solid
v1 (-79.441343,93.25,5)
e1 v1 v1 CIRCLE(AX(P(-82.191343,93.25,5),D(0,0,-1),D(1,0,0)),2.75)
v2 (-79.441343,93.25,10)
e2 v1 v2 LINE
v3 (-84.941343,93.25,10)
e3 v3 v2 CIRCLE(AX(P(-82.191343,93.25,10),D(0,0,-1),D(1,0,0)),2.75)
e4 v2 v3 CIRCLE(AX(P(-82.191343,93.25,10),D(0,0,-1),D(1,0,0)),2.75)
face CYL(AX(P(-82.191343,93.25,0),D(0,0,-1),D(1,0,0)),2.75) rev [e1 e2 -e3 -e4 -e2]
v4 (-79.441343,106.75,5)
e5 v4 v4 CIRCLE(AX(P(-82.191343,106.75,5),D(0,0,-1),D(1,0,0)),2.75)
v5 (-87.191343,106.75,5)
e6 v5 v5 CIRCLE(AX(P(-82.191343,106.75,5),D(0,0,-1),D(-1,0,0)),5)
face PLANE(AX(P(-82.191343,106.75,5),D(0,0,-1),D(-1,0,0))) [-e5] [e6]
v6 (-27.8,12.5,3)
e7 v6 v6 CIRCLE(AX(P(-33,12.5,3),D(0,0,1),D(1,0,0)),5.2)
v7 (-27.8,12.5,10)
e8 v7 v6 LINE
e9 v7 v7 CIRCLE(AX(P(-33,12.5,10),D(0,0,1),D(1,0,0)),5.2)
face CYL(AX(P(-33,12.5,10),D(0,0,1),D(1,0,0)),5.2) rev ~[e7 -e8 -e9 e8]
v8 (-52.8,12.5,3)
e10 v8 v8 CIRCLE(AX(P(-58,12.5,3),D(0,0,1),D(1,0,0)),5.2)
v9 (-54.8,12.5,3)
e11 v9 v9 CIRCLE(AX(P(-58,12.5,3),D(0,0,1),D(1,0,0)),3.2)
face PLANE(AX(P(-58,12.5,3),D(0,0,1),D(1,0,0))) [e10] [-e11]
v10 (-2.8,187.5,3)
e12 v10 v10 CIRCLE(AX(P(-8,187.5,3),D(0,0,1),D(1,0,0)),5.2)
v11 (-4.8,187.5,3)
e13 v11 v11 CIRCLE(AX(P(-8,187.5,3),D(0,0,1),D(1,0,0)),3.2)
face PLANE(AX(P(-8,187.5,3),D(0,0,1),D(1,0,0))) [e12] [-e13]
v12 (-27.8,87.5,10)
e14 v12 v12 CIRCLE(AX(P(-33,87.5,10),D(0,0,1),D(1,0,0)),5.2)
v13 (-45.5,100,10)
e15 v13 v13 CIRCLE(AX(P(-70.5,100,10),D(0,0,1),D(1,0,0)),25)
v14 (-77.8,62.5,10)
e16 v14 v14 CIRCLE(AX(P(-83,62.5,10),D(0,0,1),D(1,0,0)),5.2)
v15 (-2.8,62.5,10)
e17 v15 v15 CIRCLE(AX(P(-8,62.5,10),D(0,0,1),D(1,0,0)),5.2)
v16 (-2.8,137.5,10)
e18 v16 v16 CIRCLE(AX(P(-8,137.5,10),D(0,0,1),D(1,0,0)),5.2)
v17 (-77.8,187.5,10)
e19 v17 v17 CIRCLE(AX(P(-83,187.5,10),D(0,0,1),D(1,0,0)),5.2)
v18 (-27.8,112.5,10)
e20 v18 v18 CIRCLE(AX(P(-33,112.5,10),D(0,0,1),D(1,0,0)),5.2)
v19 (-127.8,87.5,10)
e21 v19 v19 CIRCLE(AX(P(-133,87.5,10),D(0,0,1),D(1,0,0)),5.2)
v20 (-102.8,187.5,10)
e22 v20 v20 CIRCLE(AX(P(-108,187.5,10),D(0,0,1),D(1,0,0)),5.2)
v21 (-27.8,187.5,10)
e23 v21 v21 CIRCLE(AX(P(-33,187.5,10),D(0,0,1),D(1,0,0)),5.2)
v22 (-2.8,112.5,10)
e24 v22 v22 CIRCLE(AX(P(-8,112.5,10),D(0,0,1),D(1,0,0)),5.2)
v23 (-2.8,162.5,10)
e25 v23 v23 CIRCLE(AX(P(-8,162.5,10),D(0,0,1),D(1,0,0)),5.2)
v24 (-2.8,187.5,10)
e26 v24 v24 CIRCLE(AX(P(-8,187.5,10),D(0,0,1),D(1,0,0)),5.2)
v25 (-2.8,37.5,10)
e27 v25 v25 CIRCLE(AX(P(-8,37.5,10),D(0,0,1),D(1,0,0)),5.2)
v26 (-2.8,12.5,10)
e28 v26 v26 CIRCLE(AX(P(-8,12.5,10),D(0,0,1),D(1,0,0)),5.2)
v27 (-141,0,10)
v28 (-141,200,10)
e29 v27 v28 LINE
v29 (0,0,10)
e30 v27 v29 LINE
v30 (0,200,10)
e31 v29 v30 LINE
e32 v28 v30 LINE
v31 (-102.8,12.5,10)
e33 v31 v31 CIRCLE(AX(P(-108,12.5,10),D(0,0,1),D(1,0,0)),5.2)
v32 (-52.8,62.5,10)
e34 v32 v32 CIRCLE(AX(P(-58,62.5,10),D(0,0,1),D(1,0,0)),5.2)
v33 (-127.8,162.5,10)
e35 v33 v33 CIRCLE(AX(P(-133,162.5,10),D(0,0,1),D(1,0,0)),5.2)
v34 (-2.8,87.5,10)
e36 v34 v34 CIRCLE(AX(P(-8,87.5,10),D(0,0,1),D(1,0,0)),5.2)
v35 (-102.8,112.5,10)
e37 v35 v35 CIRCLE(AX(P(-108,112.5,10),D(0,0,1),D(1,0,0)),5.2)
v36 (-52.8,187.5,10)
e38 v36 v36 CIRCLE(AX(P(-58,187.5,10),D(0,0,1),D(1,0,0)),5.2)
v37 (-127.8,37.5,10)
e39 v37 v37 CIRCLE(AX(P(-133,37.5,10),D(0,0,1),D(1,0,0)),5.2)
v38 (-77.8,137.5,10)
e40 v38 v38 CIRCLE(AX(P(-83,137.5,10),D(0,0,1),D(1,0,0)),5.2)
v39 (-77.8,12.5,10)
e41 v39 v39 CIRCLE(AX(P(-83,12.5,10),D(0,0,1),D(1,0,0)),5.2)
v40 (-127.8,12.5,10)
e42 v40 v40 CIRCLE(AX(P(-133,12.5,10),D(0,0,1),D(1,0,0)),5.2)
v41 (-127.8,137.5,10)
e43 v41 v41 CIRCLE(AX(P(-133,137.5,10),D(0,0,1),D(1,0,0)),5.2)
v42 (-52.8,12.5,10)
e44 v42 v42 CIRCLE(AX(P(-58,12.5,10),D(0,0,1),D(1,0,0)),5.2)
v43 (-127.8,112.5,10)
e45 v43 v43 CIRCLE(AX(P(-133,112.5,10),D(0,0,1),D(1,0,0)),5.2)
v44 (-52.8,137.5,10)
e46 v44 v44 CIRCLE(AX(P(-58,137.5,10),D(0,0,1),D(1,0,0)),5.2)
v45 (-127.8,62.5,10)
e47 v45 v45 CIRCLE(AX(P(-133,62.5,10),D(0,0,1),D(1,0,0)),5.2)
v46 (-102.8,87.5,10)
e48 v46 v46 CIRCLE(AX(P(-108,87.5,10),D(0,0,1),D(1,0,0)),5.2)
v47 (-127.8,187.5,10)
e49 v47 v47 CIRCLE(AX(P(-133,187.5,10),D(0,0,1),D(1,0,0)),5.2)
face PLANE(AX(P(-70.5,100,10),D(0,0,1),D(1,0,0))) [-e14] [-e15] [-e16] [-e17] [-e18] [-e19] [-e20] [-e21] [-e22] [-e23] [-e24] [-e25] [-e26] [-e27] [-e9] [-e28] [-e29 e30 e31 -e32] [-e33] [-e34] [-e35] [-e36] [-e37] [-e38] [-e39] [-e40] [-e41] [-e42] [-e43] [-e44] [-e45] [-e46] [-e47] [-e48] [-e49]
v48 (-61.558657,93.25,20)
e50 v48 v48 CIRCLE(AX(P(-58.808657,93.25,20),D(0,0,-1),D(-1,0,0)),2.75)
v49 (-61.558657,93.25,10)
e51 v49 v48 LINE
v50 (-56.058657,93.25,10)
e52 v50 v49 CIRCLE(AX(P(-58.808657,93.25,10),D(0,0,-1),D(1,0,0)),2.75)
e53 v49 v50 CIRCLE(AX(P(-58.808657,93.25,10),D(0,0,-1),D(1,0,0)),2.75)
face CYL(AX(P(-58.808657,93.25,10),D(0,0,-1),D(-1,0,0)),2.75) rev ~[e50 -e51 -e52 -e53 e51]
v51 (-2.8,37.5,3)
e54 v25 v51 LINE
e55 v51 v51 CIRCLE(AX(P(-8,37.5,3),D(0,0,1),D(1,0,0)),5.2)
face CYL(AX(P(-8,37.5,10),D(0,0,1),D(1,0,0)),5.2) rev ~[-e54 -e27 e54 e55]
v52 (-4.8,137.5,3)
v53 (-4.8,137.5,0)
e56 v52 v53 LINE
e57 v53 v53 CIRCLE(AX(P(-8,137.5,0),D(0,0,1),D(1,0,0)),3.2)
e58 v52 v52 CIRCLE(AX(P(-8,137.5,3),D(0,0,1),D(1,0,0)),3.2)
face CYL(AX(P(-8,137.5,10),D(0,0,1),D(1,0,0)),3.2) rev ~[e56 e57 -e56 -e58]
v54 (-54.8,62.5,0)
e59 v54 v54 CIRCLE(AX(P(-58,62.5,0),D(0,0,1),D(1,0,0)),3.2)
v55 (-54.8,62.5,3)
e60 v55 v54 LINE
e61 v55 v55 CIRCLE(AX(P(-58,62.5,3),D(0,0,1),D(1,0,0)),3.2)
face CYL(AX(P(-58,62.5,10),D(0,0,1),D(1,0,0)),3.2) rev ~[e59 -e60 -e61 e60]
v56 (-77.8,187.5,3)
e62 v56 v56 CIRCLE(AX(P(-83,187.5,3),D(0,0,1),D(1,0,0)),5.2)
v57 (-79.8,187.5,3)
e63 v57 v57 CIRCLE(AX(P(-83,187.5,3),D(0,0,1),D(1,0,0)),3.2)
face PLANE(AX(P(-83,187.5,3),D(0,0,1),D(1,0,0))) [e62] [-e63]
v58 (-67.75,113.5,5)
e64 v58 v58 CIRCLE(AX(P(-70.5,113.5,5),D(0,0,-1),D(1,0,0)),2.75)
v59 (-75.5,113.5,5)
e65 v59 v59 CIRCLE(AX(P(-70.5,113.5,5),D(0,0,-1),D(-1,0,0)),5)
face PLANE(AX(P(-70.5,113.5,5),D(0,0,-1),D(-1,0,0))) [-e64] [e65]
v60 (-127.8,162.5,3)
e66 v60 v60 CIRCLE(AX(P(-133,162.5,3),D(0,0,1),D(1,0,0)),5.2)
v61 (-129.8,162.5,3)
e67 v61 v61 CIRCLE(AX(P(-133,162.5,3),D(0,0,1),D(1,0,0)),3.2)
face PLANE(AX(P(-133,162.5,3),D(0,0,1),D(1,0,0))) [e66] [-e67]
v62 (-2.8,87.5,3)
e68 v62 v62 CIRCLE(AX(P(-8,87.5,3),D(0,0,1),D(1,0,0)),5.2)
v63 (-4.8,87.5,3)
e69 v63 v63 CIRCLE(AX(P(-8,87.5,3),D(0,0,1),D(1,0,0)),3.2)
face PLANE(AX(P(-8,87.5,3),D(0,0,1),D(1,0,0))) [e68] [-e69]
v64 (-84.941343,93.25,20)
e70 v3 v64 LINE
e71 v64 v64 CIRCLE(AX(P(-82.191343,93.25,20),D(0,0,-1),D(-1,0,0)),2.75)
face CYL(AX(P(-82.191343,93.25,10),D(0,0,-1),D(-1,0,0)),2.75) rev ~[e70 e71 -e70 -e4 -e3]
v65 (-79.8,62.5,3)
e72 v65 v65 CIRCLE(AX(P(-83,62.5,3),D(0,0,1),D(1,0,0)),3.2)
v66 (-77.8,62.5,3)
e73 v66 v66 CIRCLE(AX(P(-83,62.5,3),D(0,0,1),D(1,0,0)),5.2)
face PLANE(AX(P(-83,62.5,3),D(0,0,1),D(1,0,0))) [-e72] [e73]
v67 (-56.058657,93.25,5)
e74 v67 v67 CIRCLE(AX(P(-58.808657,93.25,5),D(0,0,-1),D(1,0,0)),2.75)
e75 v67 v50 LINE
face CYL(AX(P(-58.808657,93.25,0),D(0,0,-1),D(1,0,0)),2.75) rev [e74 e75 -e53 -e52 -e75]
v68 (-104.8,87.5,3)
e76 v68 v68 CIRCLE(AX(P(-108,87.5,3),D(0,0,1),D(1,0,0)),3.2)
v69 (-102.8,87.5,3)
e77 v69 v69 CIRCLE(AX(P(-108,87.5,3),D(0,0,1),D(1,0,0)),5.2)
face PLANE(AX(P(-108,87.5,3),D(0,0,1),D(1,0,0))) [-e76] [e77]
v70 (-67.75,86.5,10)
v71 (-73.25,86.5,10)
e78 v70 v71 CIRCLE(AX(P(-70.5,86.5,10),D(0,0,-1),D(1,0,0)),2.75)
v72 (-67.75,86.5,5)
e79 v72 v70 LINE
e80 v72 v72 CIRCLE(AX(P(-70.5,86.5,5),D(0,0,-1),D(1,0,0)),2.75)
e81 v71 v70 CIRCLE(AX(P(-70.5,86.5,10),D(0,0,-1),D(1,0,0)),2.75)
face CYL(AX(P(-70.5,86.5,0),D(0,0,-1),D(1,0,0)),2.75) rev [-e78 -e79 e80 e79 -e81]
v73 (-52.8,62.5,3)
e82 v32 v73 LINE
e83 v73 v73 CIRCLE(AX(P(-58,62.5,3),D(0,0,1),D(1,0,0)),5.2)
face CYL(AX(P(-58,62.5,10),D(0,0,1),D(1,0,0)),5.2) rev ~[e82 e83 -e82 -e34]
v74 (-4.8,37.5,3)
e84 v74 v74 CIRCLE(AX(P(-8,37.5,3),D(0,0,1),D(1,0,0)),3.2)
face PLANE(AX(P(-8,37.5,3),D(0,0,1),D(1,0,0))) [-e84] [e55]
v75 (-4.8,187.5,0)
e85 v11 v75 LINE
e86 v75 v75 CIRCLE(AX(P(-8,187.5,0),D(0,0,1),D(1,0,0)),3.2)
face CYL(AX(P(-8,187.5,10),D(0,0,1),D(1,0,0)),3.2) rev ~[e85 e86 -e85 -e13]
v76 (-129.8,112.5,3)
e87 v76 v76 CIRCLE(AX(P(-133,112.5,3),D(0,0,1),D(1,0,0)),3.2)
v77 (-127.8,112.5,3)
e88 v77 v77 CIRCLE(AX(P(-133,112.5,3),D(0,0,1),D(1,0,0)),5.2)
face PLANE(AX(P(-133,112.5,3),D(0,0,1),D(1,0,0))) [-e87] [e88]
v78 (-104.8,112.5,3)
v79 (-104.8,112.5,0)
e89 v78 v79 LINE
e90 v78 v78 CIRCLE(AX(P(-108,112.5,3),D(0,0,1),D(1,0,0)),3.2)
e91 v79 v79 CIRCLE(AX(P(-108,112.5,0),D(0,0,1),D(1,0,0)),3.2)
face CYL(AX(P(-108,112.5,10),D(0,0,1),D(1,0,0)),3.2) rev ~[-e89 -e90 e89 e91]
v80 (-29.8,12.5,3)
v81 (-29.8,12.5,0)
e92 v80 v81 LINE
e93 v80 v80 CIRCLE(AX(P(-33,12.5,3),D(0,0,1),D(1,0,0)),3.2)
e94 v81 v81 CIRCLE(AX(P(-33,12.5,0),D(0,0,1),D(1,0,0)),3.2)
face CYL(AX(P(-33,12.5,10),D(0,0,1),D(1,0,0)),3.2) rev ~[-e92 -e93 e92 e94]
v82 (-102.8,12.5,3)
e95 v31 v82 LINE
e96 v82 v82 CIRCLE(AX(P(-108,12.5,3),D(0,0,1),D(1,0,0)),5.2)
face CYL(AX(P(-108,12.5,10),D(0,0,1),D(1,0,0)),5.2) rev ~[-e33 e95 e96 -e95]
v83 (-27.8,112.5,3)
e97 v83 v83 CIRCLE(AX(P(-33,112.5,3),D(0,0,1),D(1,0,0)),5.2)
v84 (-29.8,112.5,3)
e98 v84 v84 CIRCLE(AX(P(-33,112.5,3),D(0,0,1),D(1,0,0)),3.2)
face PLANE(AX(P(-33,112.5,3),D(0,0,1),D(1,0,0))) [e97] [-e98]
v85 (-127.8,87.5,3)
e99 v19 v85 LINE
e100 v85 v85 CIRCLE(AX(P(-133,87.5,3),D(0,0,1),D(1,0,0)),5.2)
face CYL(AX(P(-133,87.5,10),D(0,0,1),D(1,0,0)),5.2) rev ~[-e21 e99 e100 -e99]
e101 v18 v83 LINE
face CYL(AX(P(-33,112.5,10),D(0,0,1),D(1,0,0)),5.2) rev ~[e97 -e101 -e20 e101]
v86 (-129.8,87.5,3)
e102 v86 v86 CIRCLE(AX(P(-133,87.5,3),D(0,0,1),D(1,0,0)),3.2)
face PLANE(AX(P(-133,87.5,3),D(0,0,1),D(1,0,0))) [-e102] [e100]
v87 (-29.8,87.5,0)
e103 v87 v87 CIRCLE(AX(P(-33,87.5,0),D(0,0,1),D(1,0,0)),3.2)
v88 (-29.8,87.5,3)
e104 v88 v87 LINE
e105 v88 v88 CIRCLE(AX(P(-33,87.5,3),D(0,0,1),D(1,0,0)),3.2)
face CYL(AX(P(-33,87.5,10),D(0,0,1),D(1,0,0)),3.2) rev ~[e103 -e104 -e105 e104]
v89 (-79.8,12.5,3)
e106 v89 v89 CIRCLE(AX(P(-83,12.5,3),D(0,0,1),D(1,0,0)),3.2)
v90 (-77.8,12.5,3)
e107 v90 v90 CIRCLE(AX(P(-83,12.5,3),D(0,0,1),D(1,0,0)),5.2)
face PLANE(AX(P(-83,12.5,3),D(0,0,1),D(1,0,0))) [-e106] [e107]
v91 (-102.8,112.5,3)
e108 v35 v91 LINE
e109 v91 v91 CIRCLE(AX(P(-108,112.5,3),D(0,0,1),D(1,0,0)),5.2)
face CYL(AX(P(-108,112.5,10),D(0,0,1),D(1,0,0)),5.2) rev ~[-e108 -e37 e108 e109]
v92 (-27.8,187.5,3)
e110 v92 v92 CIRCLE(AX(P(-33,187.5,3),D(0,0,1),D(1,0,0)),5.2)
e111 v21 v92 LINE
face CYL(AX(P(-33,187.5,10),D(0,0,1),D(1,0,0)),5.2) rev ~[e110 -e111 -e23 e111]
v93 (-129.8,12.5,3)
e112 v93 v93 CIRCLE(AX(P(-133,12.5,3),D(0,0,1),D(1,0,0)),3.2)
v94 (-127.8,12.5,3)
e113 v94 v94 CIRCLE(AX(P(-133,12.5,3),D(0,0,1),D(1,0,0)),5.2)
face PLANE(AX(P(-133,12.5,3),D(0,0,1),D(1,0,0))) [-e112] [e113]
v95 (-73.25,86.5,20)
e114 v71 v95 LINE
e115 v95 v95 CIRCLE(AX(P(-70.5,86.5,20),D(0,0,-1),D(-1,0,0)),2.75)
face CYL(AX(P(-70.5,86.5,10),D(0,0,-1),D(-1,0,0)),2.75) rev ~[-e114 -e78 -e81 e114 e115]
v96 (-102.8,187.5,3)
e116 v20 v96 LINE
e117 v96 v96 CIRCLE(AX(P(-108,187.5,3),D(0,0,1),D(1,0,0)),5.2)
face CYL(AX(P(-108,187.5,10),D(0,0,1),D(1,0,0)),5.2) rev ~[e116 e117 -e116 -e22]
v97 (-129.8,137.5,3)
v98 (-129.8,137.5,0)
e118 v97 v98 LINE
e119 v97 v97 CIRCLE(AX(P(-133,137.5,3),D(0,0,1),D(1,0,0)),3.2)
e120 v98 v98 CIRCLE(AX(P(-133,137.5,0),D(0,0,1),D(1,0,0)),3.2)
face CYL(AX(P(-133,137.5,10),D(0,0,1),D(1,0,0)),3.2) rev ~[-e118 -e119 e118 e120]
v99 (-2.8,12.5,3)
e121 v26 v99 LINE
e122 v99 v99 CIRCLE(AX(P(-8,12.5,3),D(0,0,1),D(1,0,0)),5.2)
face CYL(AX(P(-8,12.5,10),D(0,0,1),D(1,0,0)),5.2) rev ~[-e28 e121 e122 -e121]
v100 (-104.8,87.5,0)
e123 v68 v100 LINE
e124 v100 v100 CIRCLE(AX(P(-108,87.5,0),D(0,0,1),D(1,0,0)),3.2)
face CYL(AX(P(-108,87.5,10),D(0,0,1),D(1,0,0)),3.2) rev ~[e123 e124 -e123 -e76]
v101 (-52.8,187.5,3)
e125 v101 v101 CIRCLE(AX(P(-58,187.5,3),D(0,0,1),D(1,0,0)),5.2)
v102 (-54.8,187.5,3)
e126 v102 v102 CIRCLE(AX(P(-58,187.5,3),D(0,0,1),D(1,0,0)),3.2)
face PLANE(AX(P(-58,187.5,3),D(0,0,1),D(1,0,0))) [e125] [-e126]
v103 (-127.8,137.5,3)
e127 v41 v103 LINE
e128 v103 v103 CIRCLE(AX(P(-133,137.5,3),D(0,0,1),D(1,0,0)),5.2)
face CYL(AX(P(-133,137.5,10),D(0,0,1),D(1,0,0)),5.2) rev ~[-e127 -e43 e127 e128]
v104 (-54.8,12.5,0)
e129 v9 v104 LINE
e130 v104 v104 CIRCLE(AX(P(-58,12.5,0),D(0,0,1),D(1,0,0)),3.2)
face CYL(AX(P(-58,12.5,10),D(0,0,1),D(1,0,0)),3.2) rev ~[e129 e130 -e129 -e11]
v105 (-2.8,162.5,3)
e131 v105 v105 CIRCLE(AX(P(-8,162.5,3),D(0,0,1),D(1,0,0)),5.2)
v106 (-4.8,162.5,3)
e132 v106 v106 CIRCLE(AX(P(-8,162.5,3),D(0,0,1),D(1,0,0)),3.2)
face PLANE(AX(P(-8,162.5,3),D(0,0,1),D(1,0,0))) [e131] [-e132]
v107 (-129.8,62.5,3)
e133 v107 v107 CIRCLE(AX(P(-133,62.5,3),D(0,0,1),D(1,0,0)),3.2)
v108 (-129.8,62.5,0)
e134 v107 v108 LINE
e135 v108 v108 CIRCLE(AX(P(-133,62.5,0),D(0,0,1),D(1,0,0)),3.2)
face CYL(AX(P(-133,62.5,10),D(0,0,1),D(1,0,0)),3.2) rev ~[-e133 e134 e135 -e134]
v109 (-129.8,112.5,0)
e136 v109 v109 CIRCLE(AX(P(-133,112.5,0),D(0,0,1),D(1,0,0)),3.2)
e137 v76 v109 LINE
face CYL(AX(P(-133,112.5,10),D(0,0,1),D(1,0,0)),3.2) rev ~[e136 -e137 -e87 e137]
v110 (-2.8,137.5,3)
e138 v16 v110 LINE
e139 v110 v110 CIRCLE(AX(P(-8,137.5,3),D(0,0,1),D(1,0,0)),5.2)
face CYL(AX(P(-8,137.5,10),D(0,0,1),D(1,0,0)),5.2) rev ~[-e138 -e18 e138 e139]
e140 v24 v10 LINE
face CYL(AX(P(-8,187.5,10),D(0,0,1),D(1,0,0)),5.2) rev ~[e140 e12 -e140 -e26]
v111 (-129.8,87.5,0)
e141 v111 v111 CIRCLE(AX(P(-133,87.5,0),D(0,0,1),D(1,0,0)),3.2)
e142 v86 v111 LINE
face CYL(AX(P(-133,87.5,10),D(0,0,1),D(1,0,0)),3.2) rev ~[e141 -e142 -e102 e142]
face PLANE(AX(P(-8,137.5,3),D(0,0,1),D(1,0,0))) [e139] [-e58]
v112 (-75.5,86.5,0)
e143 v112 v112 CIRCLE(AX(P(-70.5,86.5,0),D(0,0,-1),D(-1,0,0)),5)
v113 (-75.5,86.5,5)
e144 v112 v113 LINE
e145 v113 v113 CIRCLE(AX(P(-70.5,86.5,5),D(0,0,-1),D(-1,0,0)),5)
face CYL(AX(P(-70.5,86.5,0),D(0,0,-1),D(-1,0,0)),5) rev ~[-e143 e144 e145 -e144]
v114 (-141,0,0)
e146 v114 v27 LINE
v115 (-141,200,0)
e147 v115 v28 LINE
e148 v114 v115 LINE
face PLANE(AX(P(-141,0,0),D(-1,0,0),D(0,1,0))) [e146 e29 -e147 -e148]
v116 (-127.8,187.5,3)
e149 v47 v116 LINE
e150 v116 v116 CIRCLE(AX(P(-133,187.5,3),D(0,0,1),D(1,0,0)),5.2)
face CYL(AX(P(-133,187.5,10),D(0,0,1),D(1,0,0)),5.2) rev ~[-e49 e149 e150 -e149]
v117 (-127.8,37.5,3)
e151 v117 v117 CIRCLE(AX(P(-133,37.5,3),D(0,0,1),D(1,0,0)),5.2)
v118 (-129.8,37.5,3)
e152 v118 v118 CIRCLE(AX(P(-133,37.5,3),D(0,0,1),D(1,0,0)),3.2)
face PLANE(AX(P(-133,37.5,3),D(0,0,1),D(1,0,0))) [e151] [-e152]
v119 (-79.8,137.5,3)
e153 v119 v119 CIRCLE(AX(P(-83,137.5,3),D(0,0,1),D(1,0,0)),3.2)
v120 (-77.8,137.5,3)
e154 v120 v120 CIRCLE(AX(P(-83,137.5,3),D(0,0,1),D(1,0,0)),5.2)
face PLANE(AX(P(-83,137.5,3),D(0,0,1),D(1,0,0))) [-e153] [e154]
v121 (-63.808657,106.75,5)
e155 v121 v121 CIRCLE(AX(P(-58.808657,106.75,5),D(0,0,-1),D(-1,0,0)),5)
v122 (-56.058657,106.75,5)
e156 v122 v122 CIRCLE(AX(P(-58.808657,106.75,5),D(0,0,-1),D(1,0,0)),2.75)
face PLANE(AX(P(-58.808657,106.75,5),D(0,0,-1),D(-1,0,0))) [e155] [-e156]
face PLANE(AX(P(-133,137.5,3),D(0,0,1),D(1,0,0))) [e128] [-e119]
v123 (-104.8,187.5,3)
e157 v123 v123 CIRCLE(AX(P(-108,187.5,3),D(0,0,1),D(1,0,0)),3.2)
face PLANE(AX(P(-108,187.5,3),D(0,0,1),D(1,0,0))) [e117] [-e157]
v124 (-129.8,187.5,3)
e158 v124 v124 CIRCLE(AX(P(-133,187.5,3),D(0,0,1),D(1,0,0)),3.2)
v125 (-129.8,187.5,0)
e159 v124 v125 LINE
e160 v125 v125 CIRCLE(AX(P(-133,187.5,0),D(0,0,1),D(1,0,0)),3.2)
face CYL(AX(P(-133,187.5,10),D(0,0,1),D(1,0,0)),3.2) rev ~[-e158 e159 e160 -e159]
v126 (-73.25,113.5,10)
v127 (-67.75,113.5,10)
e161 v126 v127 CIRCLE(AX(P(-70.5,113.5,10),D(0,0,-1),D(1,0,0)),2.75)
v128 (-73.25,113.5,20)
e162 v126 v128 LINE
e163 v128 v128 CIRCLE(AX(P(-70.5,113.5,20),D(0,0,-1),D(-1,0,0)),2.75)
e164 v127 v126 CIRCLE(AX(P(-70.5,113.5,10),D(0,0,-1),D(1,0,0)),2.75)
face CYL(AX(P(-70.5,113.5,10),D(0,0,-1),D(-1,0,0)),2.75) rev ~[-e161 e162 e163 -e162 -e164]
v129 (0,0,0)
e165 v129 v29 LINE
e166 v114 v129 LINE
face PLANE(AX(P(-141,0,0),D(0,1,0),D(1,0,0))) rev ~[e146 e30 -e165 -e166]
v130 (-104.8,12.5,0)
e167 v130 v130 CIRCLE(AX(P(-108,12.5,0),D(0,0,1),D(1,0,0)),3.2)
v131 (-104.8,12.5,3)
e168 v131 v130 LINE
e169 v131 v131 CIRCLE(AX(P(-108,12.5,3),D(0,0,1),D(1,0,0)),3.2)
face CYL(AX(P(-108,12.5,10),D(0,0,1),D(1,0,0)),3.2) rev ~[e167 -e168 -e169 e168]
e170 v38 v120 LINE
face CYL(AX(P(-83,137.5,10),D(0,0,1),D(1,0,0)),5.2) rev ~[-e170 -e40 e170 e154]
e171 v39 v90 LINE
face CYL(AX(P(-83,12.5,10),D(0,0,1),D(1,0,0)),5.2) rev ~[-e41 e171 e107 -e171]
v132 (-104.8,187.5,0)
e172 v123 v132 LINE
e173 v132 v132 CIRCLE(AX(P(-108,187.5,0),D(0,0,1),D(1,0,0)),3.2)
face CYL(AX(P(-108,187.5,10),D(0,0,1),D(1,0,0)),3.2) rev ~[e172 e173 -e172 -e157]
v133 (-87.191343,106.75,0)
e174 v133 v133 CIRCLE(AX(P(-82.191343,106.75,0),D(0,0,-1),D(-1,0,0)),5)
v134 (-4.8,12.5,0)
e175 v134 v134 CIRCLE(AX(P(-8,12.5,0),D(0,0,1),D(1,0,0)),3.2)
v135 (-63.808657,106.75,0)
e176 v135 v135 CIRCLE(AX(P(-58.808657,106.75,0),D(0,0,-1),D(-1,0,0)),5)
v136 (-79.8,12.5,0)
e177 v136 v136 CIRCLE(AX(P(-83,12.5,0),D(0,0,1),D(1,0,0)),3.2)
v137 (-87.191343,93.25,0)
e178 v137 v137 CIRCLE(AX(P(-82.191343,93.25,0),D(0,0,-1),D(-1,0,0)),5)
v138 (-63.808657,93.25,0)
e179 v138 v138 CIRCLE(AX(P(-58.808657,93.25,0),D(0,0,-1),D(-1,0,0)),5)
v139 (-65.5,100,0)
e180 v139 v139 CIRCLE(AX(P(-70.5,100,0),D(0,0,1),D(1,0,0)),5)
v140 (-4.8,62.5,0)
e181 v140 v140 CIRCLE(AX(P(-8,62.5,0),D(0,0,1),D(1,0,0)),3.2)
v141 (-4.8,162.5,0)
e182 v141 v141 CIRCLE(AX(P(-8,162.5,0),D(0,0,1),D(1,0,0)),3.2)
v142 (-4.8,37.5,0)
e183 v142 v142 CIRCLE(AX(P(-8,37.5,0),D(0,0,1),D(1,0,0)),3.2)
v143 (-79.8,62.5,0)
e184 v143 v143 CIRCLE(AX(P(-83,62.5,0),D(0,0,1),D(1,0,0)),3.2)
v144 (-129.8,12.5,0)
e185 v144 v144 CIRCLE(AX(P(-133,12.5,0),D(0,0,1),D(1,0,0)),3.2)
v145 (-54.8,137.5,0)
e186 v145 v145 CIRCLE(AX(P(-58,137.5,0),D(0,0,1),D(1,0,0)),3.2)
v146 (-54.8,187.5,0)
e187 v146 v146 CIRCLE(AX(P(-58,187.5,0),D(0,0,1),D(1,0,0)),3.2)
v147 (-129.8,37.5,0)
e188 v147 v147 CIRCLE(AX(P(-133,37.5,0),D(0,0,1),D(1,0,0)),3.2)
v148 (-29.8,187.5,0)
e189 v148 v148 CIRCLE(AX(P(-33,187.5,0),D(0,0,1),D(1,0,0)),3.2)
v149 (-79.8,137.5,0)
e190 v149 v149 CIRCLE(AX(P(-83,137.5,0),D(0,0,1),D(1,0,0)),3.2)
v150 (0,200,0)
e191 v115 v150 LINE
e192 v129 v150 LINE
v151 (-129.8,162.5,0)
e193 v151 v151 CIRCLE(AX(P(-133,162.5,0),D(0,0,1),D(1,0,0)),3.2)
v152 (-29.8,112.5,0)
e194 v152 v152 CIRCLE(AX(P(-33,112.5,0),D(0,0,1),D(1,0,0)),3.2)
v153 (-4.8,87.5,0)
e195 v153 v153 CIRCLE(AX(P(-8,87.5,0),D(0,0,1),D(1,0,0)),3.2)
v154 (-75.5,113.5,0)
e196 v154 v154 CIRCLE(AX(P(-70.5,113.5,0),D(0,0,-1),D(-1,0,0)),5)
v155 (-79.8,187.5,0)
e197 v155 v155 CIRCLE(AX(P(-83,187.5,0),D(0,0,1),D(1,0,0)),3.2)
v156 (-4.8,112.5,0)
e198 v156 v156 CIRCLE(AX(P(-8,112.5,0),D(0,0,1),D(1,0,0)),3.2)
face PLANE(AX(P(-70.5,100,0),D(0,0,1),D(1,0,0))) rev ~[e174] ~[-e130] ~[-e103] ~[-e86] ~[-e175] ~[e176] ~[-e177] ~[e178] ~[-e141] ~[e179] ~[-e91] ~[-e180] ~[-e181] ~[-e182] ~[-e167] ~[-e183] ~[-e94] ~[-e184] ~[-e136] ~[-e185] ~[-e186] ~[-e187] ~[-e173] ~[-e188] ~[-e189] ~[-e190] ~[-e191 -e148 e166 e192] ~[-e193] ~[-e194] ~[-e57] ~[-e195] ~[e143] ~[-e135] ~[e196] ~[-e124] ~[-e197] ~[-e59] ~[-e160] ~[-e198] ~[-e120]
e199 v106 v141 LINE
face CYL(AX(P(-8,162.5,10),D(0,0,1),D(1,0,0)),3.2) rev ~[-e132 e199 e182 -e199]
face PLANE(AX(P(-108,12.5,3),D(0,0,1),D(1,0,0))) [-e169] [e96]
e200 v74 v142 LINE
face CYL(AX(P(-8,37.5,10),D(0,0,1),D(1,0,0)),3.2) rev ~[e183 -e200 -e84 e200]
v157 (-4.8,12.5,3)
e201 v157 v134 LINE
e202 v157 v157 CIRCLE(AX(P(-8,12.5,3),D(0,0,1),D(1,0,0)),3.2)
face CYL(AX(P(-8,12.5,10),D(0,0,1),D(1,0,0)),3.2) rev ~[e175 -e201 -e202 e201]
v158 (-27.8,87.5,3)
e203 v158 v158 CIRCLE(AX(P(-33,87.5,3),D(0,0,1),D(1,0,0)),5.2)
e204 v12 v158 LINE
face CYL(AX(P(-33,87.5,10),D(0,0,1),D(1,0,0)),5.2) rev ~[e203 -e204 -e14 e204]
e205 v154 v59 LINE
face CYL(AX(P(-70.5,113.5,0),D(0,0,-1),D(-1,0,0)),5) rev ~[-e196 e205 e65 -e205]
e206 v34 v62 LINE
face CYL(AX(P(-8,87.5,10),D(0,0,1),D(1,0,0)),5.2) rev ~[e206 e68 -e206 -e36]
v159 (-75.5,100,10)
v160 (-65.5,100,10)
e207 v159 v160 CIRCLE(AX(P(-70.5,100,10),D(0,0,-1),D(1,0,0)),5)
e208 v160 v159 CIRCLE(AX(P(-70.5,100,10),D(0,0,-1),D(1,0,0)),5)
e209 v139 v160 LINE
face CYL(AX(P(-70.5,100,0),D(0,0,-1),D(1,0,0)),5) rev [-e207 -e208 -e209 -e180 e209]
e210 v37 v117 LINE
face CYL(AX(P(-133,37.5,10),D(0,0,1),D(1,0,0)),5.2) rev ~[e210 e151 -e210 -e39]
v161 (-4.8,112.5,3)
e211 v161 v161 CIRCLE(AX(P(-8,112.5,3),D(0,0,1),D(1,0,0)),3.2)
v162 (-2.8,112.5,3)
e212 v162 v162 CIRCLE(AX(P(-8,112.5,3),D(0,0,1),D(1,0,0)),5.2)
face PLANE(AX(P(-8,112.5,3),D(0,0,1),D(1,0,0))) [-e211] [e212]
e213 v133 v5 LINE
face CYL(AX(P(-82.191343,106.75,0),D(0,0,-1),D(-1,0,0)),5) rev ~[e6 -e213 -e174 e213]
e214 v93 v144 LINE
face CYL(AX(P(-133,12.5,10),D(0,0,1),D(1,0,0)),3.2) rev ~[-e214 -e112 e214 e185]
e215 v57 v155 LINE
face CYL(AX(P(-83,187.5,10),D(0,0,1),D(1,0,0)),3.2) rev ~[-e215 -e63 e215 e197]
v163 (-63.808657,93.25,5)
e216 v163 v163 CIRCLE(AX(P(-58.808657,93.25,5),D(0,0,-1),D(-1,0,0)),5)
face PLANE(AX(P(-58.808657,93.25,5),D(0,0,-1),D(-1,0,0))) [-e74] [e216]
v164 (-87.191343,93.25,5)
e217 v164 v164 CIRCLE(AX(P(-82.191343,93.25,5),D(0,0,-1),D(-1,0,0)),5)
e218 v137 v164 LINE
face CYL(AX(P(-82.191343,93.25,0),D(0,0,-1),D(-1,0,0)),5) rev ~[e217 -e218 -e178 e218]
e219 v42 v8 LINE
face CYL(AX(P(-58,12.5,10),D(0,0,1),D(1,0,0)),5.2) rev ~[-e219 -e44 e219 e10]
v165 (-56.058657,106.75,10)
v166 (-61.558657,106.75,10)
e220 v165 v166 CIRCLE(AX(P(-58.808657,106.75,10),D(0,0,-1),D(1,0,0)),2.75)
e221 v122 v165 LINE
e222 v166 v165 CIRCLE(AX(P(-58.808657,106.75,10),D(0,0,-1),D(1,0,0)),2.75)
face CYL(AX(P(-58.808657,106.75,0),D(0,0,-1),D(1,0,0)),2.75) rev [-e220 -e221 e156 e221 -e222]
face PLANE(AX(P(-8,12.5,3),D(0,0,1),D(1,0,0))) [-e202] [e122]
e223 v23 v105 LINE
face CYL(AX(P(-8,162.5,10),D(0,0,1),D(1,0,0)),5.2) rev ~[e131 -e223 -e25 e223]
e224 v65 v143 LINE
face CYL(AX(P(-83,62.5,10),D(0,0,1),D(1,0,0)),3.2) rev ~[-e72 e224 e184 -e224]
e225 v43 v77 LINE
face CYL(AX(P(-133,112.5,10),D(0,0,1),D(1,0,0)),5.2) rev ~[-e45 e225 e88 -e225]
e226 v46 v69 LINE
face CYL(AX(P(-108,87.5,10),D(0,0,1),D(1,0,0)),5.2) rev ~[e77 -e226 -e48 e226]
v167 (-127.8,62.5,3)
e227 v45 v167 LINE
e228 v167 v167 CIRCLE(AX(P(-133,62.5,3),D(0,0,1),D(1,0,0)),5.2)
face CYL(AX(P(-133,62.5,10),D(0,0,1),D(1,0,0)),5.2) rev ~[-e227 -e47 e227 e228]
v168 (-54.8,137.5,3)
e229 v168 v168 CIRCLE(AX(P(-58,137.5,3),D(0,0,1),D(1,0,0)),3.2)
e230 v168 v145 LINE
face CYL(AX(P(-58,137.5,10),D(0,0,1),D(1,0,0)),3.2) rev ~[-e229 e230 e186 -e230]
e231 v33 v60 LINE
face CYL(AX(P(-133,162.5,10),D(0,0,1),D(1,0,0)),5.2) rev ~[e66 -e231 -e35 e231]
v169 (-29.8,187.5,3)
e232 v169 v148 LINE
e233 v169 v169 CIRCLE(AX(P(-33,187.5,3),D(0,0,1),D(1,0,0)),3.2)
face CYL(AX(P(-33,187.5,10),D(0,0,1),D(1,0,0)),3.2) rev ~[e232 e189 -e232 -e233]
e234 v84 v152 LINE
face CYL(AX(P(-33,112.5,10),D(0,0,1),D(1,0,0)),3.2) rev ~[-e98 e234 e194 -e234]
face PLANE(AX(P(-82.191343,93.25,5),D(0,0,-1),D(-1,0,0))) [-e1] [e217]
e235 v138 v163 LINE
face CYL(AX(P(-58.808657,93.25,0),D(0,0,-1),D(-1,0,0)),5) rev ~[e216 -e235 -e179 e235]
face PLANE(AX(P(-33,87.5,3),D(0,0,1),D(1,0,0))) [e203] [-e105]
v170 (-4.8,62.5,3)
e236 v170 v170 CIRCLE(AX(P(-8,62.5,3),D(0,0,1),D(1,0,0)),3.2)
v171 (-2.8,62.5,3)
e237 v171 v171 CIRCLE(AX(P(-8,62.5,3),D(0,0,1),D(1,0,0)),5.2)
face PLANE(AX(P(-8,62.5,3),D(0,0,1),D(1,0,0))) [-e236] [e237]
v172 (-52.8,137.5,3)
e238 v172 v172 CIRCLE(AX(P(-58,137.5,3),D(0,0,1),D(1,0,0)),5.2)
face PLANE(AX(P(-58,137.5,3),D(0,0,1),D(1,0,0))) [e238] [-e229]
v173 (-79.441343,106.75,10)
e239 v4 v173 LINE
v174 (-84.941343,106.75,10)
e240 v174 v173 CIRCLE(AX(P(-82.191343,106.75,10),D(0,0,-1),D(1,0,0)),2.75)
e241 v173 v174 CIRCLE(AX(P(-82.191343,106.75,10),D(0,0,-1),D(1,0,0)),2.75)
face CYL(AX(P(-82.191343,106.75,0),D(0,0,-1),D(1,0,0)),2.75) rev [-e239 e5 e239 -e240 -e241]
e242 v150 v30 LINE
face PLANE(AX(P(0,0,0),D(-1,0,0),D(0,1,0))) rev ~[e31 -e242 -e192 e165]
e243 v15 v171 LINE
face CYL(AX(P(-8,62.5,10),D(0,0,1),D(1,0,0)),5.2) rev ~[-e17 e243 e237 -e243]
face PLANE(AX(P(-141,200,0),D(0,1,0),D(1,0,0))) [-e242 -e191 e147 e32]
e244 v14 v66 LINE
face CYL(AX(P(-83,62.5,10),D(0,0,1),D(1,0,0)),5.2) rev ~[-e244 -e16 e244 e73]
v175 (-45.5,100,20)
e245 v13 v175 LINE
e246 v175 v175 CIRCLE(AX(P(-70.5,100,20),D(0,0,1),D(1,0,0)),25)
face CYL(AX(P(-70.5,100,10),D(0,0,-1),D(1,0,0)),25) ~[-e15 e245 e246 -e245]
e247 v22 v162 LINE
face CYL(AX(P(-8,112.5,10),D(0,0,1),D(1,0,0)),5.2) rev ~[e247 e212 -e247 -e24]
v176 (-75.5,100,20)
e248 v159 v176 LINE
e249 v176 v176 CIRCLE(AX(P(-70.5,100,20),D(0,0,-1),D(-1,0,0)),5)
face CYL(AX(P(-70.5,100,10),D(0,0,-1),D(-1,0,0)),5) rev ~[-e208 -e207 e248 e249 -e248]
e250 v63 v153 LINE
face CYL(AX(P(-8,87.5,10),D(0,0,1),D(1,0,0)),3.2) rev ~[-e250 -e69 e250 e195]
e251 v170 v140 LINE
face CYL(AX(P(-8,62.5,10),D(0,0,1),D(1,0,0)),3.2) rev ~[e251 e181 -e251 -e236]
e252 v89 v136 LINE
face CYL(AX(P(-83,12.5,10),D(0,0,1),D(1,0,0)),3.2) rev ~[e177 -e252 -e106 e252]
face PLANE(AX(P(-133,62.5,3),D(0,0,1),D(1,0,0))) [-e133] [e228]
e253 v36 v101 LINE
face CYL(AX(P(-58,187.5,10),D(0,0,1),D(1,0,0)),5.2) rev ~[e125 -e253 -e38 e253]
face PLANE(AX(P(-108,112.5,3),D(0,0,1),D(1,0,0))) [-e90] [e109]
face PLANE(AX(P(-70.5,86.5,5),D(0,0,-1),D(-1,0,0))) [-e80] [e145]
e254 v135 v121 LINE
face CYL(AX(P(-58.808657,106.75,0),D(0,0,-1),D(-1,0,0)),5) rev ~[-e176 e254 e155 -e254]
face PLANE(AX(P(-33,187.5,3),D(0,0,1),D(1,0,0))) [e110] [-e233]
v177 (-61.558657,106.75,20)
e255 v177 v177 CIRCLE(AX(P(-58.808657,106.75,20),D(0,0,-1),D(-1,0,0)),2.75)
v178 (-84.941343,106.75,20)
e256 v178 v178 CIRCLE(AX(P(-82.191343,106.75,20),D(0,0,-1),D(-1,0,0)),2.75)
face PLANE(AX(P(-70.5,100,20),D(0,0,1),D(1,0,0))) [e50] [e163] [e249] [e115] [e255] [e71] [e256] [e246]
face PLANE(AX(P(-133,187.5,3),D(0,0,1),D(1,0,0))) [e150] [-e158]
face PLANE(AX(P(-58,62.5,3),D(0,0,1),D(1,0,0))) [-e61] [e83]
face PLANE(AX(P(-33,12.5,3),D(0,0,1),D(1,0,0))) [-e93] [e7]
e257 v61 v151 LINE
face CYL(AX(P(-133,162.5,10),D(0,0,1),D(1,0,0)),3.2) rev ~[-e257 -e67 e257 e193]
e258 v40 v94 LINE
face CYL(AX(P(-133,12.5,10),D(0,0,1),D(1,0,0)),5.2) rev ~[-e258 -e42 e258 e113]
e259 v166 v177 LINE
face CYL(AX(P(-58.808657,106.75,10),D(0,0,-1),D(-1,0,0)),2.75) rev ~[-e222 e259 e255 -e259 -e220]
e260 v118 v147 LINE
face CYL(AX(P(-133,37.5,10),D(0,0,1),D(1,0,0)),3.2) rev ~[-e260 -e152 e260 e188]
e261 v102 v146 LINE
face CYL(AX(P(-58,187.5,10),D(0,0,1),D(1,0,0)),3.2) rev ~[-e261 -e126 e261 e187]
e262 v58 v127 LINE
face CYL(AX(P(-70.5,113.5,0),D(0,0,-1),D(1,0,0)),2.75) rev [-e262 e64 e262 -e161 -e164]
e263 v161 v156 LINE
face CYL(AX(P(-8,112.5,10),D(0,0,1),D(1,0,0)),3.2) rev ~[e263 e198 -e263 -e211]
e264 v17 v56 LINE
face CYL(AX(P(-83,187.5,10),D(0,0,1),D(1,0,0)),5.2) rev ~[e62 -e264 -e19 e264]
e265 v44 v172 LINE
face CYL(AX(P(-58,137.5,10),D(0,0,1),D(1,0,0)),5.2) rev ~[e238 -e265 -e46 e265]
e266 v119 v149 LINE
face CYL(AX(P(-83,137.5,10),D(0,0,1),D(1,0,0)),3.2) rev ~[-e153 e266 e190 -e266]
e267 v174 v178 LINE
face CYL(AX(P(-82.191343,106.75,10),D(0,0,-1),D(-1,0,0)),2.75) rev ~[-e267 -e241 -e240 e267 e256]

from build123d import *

# Parameters (mm, degrees)
SKETCH_1_W          = 141
SKETCH_1_H          = 200
EXTRUDE_1_DEPTH     = 10
SKETCH_5_R          = 5
SKETCH_5_R_2        = 2.75
CUT_EXTRUDE_5_DEPTH = 245.91018762
SKETCH_6_R          = 5
CUT_EXTRUDE_6_DEPTH = 5
SKETCH_7_R          = 25
EXTRUDE_2_DEPTH     = 10
SKETCH_8_R          = 2.75
SKETCH_8_R_2        = 5
CUT_EXTRUDE_7_DEPTH = 10
SKETCH_9_R          = 3.2
CUT_EXTRUDE_8_DEPTH = 50
SKETCH_10_R         = 5.2
CUT_EXTRUDE_9_DEPTH = 7


with BuildPart() as part:
    # 스케치1 → 보스-돌출1 (new body)
    with BuildSketch(Plane.XY):
        with Locations((-70.5, 100)):
            Rectangle(SKETCH_1_W, SKETCH_1_H)
    extrude(amount=EXTRUDE_1_DEPTH)

    # 스케치5 → 컷-돌출5 (cut, through all)
    with BuildSketch(Plane.XY):
        with Locations((-70.5, 100)):
            Circle(SKETCH_5_R)
        with Locations((-70.5, 113.5)):
            Circle(SKETCH_5_R_2)
        with Locations((-58.808657049, 106.75)):
            Circle(SKETCH_5_R_2)
        with Locations((-58.808657049, 93.25)):
            Circle(SKETCH_5_R_2)
        with Locations((-70.5, 86.5)):
            Circle(SKETCH_5_R_2)
        with Locations((-82.191342951, 93.25)):
            Circle(SKETCH_5_R_2)
        with Locations((-82.191342951, 106.75)):
            Circle(SKETCH_5_R_2)
    extrude(amount=CUT_EXTRUDE_5_DEPTH, mode=Mode.SUBTRACT)

    # 스케치6 → 컷-돌출6 (cut)
    with BuildSketch(Plane(origin=(0, 0, 0), x_dir=(-1, 0, 0), z_dir=(0, 0, -1))):
        with Locations((70.5, 113.5)):
            Circle(SKETCH_6_R)
        with Locations((82.191342951, 106.75)):
            Circle(SKETCH_6_R)
        with Locations((82.191342951, 93.25)):
            Circle(SKETCH_6_R)
        with Locations((70.5, 86.5)):
            Circle(SKETCH_6_R)
        with Locations((58.808657049, 93.25)):
            Circle(SKETCH_6_R)
        with Locations((58.808657049, 106.75)):
            Circle(SKETCH_6_R)
    extrude(amount=-CUT_EXTRUDE_6_DEPTH, mode=Mode.SUBTRACT)

    # 스케치7 → 보스-돌출2 (add)
    with BuildSketch(Plane.XY.offset(10)):
        with Locations((-70.5, 100)):
            Circle(SKETCH_7_R)
    extrude(amount=EXTRUDE_2_DEPTH)

    # 스케치8 → 컷-돌출7 (cut)
    with BuildSketch(Plane(origin=(0, 0, 10), x_dir=(-1, 0, 0), z_dir=(0, 0, -1))):
        with Locations((82.191342951, 106.75)):
            Circle(SKETCH_8_R)
        with Locations((82.191342951, 93.25)):
            Circle(SKETCH_8_R)
        with Locations((70.5, 86.5)):
            Circle(SKETCH_8_R)
        with Locations((58.808657049, 93.25)):
            Circle(SKETCH_8_R)
        with Locations((58.808657049, 106.75)):
            Circle(SKETCH_8_R)
        with Locations((70.5, 113.5)):
            Circle(SKETCH_8_R)
        with Locations((70.5, 100)):
            Circle(SKETCH_8_R_2)
    extrude(amount=-CUT_EXTRUDE_7_DEPTH, mode=Mode.SUBTRACT)

    # 스케치9 → 컷-돌출8 (cut)
    with BuildSketch(Plane.XY.offset(10)):
        with Locations((-8, 187.5)):
            Circle(SKETCH_9_R)
        with Locations((-8, 12.5)):
            Circle(SKETCH_9_R)
        with Locations((-133, 187.5)):
            Circle(SKETCH_9_R)
        with Locations((-133, 12.5)):
            Circle(SKETCH_9_R)
        with Locations((-33, 187.5)):
            Circle(SKETCH_9_R)
        with Locations((-58, 187.5)):
            Circle(SKETCH_9_R)
        with Locations((-83, 187.5)):
            Circle(SKETCH_9_R)
        with Locations((-108, 187.5)):
            Circle(SKETCH_9_R)
        with Locations((-8, 162.5)):
            Circle(SKETCH_9_R)
        with Locations((-8, 137.5)):
            Circle(SKETCH_9_R)
        with Locations((-8, 112.5)):
            Circle(SKETCH_9_R)
        with Locations((-8, 87.5)):
            Circle(SKETCH_9_R)
        with Locations((-8, 62.5)):
            Circle(SKETCH_9_R)
        with Locations((-8, 37.5)):
            Circle(SKETCH_9_R)
        with Locations((-133, 162.5)):
            Circle(SKETCH_9_R)
        with Locations((-133, 137.5)):
            Circle(SKETCH_9_R)
        with Locations((-133, 112.5)):
            Circle(SKETCH_9_R)
        with Locations((-133, 87.5)):
            Circle(SKETCH_9_R)
        with Locations((-133, 62.5)):
            Circle(SKETCH_9_R)
        with Locations((-133, 37.5)):
            Circle(SKETCH_9_R)
        with Locations((-108, 12.5)):
            Circle(SKETCH_9_R)
        with Locations((-83, 12.5)):
            Circle(SKETCH_9_R)
        with Locations((-58, 12.5)):
            Circle(SKETCH_9_R)
        with Locations((-33, 12.5)):
            Circle(SKETCH_9_R)
        with Locations((-33, 112.5)):
            Circle(SKETCH_9_R)
        with Locations((-33, 87.5)):
            Circle(SKETCH_9_R)
        with Locations((-108, 112.5)):
            Circle(SKETCH_9_R)
        with Locations((-108, 87.5)):
            Circle(SKETCH_9_R)
        with Locations((-58, 137.5)):
            Circle(SKETCH_9_R)
        with Locations((-83, 137.5)):
            Circle(SKETCH_9_R)
        with Locations((-58, 62.5)):
            Circle(SKETCH_9_R)
        with Locations((-83, 62.5)):
            Circle(SKETCH_9_R)
    extrude(amount=-CUT_EXTRUDE_8_DEPTH, mode=Mode.SUBTRACT)

    # 스케치10 → 컷-돌출9 (cut)
    with BuildSketch(Plane.XY.offset(10)):
        with Locations((-8, 187.5)):
            Circle(SKETCH_10_R)
        with Locations((-33, 187.5)):
            Circle(SKETCH_10_R)
        with Locations((-58, 187.5)):
            Circle(SKETCH_10_R)
        with Locations((-83, 187.5)):
            Circle(SKETCH_10_R)
        with Locations((-108, 187.5)):
            Circle(SKETCH_10_R)
        with Locations((-133, 187.5)):
            Circle(SKETCH_10_R)
        with Locations((-8, 162.5)):
            Circle(SKETCH_10_R)
        with Locations((-8, 137.5)):
            Circle(SKETCH_10_R)
        with Locations((-8, 112.5)):
            Circle(SKETCH_10_R)
        with Locations((-8, 87.5)):
            Circle(SKETCH_10_R)
        with Locations((-8, 62.5)):
            Circle(SKETCH_10_R)
        with Locations((-8, 37.5)):
            Circle(SKETCH_10_R)
        with Locations((-8, 12.5)):
            Circle(SKETCH_10_R)
        with Locations((-33, 12.5)):
            Circle(SKETCH_10_R)
        with Locations((-58, 12.5)):
            Circle(SKETCH_10_R)
        with Locations((-83, 12.5)):
            Circle(SKETCH_10_R)
        with Locations((-108, 12.5)):
            Circle(SKETCH_10_R)
        with Locations((-133, 12.5)):
            Circle(SKETCH_10_R)
        with Locations((-133, 162.5)):
            Circle(SKETCH_10_R)
        with Locations((-133, 137.5)):
            Circle(SKETCH_10_R)
        with Locations((-133, 112.5)):
            Circle(SKETCH_10_R)
        with Locations((-133, 87.5)):
            Circle(SKETCH_10_R)
        with Locations((-133, 62.5)):
            Circle(SKETCH_10_R)
        with Locations((-133, 37.5)):
            Circle(SKETCH_10_R)
        with Locations((-33, 112.5)):
            Circle(SKETCH_10_R)
        with Locations((-33, 87.5)):
            Circle(SKETCH_10_R)
        with Locations((-58, 62.5)):
            Circle(SKETCH_10_R)
        with Locations((-83, 62.5)):
            Circle(SKETCH_10_R)
        with Locations((-108, 87.5)):
            Circle(SKETCH_10_R)
        with Locations((-108, 112.5)):
            Circle(SKETCH_10_R)
        with Locations((-83, 137.5)):
            Circle(SKETCH_10_R)
        with Locations((-58, 137.5)):
            Circle(SKETCH_10_R)
    extrude(amount=-CUT_EXTRUDE_9_DEPTH, mode=Mode.SUBTRACT)


solid = part.part
